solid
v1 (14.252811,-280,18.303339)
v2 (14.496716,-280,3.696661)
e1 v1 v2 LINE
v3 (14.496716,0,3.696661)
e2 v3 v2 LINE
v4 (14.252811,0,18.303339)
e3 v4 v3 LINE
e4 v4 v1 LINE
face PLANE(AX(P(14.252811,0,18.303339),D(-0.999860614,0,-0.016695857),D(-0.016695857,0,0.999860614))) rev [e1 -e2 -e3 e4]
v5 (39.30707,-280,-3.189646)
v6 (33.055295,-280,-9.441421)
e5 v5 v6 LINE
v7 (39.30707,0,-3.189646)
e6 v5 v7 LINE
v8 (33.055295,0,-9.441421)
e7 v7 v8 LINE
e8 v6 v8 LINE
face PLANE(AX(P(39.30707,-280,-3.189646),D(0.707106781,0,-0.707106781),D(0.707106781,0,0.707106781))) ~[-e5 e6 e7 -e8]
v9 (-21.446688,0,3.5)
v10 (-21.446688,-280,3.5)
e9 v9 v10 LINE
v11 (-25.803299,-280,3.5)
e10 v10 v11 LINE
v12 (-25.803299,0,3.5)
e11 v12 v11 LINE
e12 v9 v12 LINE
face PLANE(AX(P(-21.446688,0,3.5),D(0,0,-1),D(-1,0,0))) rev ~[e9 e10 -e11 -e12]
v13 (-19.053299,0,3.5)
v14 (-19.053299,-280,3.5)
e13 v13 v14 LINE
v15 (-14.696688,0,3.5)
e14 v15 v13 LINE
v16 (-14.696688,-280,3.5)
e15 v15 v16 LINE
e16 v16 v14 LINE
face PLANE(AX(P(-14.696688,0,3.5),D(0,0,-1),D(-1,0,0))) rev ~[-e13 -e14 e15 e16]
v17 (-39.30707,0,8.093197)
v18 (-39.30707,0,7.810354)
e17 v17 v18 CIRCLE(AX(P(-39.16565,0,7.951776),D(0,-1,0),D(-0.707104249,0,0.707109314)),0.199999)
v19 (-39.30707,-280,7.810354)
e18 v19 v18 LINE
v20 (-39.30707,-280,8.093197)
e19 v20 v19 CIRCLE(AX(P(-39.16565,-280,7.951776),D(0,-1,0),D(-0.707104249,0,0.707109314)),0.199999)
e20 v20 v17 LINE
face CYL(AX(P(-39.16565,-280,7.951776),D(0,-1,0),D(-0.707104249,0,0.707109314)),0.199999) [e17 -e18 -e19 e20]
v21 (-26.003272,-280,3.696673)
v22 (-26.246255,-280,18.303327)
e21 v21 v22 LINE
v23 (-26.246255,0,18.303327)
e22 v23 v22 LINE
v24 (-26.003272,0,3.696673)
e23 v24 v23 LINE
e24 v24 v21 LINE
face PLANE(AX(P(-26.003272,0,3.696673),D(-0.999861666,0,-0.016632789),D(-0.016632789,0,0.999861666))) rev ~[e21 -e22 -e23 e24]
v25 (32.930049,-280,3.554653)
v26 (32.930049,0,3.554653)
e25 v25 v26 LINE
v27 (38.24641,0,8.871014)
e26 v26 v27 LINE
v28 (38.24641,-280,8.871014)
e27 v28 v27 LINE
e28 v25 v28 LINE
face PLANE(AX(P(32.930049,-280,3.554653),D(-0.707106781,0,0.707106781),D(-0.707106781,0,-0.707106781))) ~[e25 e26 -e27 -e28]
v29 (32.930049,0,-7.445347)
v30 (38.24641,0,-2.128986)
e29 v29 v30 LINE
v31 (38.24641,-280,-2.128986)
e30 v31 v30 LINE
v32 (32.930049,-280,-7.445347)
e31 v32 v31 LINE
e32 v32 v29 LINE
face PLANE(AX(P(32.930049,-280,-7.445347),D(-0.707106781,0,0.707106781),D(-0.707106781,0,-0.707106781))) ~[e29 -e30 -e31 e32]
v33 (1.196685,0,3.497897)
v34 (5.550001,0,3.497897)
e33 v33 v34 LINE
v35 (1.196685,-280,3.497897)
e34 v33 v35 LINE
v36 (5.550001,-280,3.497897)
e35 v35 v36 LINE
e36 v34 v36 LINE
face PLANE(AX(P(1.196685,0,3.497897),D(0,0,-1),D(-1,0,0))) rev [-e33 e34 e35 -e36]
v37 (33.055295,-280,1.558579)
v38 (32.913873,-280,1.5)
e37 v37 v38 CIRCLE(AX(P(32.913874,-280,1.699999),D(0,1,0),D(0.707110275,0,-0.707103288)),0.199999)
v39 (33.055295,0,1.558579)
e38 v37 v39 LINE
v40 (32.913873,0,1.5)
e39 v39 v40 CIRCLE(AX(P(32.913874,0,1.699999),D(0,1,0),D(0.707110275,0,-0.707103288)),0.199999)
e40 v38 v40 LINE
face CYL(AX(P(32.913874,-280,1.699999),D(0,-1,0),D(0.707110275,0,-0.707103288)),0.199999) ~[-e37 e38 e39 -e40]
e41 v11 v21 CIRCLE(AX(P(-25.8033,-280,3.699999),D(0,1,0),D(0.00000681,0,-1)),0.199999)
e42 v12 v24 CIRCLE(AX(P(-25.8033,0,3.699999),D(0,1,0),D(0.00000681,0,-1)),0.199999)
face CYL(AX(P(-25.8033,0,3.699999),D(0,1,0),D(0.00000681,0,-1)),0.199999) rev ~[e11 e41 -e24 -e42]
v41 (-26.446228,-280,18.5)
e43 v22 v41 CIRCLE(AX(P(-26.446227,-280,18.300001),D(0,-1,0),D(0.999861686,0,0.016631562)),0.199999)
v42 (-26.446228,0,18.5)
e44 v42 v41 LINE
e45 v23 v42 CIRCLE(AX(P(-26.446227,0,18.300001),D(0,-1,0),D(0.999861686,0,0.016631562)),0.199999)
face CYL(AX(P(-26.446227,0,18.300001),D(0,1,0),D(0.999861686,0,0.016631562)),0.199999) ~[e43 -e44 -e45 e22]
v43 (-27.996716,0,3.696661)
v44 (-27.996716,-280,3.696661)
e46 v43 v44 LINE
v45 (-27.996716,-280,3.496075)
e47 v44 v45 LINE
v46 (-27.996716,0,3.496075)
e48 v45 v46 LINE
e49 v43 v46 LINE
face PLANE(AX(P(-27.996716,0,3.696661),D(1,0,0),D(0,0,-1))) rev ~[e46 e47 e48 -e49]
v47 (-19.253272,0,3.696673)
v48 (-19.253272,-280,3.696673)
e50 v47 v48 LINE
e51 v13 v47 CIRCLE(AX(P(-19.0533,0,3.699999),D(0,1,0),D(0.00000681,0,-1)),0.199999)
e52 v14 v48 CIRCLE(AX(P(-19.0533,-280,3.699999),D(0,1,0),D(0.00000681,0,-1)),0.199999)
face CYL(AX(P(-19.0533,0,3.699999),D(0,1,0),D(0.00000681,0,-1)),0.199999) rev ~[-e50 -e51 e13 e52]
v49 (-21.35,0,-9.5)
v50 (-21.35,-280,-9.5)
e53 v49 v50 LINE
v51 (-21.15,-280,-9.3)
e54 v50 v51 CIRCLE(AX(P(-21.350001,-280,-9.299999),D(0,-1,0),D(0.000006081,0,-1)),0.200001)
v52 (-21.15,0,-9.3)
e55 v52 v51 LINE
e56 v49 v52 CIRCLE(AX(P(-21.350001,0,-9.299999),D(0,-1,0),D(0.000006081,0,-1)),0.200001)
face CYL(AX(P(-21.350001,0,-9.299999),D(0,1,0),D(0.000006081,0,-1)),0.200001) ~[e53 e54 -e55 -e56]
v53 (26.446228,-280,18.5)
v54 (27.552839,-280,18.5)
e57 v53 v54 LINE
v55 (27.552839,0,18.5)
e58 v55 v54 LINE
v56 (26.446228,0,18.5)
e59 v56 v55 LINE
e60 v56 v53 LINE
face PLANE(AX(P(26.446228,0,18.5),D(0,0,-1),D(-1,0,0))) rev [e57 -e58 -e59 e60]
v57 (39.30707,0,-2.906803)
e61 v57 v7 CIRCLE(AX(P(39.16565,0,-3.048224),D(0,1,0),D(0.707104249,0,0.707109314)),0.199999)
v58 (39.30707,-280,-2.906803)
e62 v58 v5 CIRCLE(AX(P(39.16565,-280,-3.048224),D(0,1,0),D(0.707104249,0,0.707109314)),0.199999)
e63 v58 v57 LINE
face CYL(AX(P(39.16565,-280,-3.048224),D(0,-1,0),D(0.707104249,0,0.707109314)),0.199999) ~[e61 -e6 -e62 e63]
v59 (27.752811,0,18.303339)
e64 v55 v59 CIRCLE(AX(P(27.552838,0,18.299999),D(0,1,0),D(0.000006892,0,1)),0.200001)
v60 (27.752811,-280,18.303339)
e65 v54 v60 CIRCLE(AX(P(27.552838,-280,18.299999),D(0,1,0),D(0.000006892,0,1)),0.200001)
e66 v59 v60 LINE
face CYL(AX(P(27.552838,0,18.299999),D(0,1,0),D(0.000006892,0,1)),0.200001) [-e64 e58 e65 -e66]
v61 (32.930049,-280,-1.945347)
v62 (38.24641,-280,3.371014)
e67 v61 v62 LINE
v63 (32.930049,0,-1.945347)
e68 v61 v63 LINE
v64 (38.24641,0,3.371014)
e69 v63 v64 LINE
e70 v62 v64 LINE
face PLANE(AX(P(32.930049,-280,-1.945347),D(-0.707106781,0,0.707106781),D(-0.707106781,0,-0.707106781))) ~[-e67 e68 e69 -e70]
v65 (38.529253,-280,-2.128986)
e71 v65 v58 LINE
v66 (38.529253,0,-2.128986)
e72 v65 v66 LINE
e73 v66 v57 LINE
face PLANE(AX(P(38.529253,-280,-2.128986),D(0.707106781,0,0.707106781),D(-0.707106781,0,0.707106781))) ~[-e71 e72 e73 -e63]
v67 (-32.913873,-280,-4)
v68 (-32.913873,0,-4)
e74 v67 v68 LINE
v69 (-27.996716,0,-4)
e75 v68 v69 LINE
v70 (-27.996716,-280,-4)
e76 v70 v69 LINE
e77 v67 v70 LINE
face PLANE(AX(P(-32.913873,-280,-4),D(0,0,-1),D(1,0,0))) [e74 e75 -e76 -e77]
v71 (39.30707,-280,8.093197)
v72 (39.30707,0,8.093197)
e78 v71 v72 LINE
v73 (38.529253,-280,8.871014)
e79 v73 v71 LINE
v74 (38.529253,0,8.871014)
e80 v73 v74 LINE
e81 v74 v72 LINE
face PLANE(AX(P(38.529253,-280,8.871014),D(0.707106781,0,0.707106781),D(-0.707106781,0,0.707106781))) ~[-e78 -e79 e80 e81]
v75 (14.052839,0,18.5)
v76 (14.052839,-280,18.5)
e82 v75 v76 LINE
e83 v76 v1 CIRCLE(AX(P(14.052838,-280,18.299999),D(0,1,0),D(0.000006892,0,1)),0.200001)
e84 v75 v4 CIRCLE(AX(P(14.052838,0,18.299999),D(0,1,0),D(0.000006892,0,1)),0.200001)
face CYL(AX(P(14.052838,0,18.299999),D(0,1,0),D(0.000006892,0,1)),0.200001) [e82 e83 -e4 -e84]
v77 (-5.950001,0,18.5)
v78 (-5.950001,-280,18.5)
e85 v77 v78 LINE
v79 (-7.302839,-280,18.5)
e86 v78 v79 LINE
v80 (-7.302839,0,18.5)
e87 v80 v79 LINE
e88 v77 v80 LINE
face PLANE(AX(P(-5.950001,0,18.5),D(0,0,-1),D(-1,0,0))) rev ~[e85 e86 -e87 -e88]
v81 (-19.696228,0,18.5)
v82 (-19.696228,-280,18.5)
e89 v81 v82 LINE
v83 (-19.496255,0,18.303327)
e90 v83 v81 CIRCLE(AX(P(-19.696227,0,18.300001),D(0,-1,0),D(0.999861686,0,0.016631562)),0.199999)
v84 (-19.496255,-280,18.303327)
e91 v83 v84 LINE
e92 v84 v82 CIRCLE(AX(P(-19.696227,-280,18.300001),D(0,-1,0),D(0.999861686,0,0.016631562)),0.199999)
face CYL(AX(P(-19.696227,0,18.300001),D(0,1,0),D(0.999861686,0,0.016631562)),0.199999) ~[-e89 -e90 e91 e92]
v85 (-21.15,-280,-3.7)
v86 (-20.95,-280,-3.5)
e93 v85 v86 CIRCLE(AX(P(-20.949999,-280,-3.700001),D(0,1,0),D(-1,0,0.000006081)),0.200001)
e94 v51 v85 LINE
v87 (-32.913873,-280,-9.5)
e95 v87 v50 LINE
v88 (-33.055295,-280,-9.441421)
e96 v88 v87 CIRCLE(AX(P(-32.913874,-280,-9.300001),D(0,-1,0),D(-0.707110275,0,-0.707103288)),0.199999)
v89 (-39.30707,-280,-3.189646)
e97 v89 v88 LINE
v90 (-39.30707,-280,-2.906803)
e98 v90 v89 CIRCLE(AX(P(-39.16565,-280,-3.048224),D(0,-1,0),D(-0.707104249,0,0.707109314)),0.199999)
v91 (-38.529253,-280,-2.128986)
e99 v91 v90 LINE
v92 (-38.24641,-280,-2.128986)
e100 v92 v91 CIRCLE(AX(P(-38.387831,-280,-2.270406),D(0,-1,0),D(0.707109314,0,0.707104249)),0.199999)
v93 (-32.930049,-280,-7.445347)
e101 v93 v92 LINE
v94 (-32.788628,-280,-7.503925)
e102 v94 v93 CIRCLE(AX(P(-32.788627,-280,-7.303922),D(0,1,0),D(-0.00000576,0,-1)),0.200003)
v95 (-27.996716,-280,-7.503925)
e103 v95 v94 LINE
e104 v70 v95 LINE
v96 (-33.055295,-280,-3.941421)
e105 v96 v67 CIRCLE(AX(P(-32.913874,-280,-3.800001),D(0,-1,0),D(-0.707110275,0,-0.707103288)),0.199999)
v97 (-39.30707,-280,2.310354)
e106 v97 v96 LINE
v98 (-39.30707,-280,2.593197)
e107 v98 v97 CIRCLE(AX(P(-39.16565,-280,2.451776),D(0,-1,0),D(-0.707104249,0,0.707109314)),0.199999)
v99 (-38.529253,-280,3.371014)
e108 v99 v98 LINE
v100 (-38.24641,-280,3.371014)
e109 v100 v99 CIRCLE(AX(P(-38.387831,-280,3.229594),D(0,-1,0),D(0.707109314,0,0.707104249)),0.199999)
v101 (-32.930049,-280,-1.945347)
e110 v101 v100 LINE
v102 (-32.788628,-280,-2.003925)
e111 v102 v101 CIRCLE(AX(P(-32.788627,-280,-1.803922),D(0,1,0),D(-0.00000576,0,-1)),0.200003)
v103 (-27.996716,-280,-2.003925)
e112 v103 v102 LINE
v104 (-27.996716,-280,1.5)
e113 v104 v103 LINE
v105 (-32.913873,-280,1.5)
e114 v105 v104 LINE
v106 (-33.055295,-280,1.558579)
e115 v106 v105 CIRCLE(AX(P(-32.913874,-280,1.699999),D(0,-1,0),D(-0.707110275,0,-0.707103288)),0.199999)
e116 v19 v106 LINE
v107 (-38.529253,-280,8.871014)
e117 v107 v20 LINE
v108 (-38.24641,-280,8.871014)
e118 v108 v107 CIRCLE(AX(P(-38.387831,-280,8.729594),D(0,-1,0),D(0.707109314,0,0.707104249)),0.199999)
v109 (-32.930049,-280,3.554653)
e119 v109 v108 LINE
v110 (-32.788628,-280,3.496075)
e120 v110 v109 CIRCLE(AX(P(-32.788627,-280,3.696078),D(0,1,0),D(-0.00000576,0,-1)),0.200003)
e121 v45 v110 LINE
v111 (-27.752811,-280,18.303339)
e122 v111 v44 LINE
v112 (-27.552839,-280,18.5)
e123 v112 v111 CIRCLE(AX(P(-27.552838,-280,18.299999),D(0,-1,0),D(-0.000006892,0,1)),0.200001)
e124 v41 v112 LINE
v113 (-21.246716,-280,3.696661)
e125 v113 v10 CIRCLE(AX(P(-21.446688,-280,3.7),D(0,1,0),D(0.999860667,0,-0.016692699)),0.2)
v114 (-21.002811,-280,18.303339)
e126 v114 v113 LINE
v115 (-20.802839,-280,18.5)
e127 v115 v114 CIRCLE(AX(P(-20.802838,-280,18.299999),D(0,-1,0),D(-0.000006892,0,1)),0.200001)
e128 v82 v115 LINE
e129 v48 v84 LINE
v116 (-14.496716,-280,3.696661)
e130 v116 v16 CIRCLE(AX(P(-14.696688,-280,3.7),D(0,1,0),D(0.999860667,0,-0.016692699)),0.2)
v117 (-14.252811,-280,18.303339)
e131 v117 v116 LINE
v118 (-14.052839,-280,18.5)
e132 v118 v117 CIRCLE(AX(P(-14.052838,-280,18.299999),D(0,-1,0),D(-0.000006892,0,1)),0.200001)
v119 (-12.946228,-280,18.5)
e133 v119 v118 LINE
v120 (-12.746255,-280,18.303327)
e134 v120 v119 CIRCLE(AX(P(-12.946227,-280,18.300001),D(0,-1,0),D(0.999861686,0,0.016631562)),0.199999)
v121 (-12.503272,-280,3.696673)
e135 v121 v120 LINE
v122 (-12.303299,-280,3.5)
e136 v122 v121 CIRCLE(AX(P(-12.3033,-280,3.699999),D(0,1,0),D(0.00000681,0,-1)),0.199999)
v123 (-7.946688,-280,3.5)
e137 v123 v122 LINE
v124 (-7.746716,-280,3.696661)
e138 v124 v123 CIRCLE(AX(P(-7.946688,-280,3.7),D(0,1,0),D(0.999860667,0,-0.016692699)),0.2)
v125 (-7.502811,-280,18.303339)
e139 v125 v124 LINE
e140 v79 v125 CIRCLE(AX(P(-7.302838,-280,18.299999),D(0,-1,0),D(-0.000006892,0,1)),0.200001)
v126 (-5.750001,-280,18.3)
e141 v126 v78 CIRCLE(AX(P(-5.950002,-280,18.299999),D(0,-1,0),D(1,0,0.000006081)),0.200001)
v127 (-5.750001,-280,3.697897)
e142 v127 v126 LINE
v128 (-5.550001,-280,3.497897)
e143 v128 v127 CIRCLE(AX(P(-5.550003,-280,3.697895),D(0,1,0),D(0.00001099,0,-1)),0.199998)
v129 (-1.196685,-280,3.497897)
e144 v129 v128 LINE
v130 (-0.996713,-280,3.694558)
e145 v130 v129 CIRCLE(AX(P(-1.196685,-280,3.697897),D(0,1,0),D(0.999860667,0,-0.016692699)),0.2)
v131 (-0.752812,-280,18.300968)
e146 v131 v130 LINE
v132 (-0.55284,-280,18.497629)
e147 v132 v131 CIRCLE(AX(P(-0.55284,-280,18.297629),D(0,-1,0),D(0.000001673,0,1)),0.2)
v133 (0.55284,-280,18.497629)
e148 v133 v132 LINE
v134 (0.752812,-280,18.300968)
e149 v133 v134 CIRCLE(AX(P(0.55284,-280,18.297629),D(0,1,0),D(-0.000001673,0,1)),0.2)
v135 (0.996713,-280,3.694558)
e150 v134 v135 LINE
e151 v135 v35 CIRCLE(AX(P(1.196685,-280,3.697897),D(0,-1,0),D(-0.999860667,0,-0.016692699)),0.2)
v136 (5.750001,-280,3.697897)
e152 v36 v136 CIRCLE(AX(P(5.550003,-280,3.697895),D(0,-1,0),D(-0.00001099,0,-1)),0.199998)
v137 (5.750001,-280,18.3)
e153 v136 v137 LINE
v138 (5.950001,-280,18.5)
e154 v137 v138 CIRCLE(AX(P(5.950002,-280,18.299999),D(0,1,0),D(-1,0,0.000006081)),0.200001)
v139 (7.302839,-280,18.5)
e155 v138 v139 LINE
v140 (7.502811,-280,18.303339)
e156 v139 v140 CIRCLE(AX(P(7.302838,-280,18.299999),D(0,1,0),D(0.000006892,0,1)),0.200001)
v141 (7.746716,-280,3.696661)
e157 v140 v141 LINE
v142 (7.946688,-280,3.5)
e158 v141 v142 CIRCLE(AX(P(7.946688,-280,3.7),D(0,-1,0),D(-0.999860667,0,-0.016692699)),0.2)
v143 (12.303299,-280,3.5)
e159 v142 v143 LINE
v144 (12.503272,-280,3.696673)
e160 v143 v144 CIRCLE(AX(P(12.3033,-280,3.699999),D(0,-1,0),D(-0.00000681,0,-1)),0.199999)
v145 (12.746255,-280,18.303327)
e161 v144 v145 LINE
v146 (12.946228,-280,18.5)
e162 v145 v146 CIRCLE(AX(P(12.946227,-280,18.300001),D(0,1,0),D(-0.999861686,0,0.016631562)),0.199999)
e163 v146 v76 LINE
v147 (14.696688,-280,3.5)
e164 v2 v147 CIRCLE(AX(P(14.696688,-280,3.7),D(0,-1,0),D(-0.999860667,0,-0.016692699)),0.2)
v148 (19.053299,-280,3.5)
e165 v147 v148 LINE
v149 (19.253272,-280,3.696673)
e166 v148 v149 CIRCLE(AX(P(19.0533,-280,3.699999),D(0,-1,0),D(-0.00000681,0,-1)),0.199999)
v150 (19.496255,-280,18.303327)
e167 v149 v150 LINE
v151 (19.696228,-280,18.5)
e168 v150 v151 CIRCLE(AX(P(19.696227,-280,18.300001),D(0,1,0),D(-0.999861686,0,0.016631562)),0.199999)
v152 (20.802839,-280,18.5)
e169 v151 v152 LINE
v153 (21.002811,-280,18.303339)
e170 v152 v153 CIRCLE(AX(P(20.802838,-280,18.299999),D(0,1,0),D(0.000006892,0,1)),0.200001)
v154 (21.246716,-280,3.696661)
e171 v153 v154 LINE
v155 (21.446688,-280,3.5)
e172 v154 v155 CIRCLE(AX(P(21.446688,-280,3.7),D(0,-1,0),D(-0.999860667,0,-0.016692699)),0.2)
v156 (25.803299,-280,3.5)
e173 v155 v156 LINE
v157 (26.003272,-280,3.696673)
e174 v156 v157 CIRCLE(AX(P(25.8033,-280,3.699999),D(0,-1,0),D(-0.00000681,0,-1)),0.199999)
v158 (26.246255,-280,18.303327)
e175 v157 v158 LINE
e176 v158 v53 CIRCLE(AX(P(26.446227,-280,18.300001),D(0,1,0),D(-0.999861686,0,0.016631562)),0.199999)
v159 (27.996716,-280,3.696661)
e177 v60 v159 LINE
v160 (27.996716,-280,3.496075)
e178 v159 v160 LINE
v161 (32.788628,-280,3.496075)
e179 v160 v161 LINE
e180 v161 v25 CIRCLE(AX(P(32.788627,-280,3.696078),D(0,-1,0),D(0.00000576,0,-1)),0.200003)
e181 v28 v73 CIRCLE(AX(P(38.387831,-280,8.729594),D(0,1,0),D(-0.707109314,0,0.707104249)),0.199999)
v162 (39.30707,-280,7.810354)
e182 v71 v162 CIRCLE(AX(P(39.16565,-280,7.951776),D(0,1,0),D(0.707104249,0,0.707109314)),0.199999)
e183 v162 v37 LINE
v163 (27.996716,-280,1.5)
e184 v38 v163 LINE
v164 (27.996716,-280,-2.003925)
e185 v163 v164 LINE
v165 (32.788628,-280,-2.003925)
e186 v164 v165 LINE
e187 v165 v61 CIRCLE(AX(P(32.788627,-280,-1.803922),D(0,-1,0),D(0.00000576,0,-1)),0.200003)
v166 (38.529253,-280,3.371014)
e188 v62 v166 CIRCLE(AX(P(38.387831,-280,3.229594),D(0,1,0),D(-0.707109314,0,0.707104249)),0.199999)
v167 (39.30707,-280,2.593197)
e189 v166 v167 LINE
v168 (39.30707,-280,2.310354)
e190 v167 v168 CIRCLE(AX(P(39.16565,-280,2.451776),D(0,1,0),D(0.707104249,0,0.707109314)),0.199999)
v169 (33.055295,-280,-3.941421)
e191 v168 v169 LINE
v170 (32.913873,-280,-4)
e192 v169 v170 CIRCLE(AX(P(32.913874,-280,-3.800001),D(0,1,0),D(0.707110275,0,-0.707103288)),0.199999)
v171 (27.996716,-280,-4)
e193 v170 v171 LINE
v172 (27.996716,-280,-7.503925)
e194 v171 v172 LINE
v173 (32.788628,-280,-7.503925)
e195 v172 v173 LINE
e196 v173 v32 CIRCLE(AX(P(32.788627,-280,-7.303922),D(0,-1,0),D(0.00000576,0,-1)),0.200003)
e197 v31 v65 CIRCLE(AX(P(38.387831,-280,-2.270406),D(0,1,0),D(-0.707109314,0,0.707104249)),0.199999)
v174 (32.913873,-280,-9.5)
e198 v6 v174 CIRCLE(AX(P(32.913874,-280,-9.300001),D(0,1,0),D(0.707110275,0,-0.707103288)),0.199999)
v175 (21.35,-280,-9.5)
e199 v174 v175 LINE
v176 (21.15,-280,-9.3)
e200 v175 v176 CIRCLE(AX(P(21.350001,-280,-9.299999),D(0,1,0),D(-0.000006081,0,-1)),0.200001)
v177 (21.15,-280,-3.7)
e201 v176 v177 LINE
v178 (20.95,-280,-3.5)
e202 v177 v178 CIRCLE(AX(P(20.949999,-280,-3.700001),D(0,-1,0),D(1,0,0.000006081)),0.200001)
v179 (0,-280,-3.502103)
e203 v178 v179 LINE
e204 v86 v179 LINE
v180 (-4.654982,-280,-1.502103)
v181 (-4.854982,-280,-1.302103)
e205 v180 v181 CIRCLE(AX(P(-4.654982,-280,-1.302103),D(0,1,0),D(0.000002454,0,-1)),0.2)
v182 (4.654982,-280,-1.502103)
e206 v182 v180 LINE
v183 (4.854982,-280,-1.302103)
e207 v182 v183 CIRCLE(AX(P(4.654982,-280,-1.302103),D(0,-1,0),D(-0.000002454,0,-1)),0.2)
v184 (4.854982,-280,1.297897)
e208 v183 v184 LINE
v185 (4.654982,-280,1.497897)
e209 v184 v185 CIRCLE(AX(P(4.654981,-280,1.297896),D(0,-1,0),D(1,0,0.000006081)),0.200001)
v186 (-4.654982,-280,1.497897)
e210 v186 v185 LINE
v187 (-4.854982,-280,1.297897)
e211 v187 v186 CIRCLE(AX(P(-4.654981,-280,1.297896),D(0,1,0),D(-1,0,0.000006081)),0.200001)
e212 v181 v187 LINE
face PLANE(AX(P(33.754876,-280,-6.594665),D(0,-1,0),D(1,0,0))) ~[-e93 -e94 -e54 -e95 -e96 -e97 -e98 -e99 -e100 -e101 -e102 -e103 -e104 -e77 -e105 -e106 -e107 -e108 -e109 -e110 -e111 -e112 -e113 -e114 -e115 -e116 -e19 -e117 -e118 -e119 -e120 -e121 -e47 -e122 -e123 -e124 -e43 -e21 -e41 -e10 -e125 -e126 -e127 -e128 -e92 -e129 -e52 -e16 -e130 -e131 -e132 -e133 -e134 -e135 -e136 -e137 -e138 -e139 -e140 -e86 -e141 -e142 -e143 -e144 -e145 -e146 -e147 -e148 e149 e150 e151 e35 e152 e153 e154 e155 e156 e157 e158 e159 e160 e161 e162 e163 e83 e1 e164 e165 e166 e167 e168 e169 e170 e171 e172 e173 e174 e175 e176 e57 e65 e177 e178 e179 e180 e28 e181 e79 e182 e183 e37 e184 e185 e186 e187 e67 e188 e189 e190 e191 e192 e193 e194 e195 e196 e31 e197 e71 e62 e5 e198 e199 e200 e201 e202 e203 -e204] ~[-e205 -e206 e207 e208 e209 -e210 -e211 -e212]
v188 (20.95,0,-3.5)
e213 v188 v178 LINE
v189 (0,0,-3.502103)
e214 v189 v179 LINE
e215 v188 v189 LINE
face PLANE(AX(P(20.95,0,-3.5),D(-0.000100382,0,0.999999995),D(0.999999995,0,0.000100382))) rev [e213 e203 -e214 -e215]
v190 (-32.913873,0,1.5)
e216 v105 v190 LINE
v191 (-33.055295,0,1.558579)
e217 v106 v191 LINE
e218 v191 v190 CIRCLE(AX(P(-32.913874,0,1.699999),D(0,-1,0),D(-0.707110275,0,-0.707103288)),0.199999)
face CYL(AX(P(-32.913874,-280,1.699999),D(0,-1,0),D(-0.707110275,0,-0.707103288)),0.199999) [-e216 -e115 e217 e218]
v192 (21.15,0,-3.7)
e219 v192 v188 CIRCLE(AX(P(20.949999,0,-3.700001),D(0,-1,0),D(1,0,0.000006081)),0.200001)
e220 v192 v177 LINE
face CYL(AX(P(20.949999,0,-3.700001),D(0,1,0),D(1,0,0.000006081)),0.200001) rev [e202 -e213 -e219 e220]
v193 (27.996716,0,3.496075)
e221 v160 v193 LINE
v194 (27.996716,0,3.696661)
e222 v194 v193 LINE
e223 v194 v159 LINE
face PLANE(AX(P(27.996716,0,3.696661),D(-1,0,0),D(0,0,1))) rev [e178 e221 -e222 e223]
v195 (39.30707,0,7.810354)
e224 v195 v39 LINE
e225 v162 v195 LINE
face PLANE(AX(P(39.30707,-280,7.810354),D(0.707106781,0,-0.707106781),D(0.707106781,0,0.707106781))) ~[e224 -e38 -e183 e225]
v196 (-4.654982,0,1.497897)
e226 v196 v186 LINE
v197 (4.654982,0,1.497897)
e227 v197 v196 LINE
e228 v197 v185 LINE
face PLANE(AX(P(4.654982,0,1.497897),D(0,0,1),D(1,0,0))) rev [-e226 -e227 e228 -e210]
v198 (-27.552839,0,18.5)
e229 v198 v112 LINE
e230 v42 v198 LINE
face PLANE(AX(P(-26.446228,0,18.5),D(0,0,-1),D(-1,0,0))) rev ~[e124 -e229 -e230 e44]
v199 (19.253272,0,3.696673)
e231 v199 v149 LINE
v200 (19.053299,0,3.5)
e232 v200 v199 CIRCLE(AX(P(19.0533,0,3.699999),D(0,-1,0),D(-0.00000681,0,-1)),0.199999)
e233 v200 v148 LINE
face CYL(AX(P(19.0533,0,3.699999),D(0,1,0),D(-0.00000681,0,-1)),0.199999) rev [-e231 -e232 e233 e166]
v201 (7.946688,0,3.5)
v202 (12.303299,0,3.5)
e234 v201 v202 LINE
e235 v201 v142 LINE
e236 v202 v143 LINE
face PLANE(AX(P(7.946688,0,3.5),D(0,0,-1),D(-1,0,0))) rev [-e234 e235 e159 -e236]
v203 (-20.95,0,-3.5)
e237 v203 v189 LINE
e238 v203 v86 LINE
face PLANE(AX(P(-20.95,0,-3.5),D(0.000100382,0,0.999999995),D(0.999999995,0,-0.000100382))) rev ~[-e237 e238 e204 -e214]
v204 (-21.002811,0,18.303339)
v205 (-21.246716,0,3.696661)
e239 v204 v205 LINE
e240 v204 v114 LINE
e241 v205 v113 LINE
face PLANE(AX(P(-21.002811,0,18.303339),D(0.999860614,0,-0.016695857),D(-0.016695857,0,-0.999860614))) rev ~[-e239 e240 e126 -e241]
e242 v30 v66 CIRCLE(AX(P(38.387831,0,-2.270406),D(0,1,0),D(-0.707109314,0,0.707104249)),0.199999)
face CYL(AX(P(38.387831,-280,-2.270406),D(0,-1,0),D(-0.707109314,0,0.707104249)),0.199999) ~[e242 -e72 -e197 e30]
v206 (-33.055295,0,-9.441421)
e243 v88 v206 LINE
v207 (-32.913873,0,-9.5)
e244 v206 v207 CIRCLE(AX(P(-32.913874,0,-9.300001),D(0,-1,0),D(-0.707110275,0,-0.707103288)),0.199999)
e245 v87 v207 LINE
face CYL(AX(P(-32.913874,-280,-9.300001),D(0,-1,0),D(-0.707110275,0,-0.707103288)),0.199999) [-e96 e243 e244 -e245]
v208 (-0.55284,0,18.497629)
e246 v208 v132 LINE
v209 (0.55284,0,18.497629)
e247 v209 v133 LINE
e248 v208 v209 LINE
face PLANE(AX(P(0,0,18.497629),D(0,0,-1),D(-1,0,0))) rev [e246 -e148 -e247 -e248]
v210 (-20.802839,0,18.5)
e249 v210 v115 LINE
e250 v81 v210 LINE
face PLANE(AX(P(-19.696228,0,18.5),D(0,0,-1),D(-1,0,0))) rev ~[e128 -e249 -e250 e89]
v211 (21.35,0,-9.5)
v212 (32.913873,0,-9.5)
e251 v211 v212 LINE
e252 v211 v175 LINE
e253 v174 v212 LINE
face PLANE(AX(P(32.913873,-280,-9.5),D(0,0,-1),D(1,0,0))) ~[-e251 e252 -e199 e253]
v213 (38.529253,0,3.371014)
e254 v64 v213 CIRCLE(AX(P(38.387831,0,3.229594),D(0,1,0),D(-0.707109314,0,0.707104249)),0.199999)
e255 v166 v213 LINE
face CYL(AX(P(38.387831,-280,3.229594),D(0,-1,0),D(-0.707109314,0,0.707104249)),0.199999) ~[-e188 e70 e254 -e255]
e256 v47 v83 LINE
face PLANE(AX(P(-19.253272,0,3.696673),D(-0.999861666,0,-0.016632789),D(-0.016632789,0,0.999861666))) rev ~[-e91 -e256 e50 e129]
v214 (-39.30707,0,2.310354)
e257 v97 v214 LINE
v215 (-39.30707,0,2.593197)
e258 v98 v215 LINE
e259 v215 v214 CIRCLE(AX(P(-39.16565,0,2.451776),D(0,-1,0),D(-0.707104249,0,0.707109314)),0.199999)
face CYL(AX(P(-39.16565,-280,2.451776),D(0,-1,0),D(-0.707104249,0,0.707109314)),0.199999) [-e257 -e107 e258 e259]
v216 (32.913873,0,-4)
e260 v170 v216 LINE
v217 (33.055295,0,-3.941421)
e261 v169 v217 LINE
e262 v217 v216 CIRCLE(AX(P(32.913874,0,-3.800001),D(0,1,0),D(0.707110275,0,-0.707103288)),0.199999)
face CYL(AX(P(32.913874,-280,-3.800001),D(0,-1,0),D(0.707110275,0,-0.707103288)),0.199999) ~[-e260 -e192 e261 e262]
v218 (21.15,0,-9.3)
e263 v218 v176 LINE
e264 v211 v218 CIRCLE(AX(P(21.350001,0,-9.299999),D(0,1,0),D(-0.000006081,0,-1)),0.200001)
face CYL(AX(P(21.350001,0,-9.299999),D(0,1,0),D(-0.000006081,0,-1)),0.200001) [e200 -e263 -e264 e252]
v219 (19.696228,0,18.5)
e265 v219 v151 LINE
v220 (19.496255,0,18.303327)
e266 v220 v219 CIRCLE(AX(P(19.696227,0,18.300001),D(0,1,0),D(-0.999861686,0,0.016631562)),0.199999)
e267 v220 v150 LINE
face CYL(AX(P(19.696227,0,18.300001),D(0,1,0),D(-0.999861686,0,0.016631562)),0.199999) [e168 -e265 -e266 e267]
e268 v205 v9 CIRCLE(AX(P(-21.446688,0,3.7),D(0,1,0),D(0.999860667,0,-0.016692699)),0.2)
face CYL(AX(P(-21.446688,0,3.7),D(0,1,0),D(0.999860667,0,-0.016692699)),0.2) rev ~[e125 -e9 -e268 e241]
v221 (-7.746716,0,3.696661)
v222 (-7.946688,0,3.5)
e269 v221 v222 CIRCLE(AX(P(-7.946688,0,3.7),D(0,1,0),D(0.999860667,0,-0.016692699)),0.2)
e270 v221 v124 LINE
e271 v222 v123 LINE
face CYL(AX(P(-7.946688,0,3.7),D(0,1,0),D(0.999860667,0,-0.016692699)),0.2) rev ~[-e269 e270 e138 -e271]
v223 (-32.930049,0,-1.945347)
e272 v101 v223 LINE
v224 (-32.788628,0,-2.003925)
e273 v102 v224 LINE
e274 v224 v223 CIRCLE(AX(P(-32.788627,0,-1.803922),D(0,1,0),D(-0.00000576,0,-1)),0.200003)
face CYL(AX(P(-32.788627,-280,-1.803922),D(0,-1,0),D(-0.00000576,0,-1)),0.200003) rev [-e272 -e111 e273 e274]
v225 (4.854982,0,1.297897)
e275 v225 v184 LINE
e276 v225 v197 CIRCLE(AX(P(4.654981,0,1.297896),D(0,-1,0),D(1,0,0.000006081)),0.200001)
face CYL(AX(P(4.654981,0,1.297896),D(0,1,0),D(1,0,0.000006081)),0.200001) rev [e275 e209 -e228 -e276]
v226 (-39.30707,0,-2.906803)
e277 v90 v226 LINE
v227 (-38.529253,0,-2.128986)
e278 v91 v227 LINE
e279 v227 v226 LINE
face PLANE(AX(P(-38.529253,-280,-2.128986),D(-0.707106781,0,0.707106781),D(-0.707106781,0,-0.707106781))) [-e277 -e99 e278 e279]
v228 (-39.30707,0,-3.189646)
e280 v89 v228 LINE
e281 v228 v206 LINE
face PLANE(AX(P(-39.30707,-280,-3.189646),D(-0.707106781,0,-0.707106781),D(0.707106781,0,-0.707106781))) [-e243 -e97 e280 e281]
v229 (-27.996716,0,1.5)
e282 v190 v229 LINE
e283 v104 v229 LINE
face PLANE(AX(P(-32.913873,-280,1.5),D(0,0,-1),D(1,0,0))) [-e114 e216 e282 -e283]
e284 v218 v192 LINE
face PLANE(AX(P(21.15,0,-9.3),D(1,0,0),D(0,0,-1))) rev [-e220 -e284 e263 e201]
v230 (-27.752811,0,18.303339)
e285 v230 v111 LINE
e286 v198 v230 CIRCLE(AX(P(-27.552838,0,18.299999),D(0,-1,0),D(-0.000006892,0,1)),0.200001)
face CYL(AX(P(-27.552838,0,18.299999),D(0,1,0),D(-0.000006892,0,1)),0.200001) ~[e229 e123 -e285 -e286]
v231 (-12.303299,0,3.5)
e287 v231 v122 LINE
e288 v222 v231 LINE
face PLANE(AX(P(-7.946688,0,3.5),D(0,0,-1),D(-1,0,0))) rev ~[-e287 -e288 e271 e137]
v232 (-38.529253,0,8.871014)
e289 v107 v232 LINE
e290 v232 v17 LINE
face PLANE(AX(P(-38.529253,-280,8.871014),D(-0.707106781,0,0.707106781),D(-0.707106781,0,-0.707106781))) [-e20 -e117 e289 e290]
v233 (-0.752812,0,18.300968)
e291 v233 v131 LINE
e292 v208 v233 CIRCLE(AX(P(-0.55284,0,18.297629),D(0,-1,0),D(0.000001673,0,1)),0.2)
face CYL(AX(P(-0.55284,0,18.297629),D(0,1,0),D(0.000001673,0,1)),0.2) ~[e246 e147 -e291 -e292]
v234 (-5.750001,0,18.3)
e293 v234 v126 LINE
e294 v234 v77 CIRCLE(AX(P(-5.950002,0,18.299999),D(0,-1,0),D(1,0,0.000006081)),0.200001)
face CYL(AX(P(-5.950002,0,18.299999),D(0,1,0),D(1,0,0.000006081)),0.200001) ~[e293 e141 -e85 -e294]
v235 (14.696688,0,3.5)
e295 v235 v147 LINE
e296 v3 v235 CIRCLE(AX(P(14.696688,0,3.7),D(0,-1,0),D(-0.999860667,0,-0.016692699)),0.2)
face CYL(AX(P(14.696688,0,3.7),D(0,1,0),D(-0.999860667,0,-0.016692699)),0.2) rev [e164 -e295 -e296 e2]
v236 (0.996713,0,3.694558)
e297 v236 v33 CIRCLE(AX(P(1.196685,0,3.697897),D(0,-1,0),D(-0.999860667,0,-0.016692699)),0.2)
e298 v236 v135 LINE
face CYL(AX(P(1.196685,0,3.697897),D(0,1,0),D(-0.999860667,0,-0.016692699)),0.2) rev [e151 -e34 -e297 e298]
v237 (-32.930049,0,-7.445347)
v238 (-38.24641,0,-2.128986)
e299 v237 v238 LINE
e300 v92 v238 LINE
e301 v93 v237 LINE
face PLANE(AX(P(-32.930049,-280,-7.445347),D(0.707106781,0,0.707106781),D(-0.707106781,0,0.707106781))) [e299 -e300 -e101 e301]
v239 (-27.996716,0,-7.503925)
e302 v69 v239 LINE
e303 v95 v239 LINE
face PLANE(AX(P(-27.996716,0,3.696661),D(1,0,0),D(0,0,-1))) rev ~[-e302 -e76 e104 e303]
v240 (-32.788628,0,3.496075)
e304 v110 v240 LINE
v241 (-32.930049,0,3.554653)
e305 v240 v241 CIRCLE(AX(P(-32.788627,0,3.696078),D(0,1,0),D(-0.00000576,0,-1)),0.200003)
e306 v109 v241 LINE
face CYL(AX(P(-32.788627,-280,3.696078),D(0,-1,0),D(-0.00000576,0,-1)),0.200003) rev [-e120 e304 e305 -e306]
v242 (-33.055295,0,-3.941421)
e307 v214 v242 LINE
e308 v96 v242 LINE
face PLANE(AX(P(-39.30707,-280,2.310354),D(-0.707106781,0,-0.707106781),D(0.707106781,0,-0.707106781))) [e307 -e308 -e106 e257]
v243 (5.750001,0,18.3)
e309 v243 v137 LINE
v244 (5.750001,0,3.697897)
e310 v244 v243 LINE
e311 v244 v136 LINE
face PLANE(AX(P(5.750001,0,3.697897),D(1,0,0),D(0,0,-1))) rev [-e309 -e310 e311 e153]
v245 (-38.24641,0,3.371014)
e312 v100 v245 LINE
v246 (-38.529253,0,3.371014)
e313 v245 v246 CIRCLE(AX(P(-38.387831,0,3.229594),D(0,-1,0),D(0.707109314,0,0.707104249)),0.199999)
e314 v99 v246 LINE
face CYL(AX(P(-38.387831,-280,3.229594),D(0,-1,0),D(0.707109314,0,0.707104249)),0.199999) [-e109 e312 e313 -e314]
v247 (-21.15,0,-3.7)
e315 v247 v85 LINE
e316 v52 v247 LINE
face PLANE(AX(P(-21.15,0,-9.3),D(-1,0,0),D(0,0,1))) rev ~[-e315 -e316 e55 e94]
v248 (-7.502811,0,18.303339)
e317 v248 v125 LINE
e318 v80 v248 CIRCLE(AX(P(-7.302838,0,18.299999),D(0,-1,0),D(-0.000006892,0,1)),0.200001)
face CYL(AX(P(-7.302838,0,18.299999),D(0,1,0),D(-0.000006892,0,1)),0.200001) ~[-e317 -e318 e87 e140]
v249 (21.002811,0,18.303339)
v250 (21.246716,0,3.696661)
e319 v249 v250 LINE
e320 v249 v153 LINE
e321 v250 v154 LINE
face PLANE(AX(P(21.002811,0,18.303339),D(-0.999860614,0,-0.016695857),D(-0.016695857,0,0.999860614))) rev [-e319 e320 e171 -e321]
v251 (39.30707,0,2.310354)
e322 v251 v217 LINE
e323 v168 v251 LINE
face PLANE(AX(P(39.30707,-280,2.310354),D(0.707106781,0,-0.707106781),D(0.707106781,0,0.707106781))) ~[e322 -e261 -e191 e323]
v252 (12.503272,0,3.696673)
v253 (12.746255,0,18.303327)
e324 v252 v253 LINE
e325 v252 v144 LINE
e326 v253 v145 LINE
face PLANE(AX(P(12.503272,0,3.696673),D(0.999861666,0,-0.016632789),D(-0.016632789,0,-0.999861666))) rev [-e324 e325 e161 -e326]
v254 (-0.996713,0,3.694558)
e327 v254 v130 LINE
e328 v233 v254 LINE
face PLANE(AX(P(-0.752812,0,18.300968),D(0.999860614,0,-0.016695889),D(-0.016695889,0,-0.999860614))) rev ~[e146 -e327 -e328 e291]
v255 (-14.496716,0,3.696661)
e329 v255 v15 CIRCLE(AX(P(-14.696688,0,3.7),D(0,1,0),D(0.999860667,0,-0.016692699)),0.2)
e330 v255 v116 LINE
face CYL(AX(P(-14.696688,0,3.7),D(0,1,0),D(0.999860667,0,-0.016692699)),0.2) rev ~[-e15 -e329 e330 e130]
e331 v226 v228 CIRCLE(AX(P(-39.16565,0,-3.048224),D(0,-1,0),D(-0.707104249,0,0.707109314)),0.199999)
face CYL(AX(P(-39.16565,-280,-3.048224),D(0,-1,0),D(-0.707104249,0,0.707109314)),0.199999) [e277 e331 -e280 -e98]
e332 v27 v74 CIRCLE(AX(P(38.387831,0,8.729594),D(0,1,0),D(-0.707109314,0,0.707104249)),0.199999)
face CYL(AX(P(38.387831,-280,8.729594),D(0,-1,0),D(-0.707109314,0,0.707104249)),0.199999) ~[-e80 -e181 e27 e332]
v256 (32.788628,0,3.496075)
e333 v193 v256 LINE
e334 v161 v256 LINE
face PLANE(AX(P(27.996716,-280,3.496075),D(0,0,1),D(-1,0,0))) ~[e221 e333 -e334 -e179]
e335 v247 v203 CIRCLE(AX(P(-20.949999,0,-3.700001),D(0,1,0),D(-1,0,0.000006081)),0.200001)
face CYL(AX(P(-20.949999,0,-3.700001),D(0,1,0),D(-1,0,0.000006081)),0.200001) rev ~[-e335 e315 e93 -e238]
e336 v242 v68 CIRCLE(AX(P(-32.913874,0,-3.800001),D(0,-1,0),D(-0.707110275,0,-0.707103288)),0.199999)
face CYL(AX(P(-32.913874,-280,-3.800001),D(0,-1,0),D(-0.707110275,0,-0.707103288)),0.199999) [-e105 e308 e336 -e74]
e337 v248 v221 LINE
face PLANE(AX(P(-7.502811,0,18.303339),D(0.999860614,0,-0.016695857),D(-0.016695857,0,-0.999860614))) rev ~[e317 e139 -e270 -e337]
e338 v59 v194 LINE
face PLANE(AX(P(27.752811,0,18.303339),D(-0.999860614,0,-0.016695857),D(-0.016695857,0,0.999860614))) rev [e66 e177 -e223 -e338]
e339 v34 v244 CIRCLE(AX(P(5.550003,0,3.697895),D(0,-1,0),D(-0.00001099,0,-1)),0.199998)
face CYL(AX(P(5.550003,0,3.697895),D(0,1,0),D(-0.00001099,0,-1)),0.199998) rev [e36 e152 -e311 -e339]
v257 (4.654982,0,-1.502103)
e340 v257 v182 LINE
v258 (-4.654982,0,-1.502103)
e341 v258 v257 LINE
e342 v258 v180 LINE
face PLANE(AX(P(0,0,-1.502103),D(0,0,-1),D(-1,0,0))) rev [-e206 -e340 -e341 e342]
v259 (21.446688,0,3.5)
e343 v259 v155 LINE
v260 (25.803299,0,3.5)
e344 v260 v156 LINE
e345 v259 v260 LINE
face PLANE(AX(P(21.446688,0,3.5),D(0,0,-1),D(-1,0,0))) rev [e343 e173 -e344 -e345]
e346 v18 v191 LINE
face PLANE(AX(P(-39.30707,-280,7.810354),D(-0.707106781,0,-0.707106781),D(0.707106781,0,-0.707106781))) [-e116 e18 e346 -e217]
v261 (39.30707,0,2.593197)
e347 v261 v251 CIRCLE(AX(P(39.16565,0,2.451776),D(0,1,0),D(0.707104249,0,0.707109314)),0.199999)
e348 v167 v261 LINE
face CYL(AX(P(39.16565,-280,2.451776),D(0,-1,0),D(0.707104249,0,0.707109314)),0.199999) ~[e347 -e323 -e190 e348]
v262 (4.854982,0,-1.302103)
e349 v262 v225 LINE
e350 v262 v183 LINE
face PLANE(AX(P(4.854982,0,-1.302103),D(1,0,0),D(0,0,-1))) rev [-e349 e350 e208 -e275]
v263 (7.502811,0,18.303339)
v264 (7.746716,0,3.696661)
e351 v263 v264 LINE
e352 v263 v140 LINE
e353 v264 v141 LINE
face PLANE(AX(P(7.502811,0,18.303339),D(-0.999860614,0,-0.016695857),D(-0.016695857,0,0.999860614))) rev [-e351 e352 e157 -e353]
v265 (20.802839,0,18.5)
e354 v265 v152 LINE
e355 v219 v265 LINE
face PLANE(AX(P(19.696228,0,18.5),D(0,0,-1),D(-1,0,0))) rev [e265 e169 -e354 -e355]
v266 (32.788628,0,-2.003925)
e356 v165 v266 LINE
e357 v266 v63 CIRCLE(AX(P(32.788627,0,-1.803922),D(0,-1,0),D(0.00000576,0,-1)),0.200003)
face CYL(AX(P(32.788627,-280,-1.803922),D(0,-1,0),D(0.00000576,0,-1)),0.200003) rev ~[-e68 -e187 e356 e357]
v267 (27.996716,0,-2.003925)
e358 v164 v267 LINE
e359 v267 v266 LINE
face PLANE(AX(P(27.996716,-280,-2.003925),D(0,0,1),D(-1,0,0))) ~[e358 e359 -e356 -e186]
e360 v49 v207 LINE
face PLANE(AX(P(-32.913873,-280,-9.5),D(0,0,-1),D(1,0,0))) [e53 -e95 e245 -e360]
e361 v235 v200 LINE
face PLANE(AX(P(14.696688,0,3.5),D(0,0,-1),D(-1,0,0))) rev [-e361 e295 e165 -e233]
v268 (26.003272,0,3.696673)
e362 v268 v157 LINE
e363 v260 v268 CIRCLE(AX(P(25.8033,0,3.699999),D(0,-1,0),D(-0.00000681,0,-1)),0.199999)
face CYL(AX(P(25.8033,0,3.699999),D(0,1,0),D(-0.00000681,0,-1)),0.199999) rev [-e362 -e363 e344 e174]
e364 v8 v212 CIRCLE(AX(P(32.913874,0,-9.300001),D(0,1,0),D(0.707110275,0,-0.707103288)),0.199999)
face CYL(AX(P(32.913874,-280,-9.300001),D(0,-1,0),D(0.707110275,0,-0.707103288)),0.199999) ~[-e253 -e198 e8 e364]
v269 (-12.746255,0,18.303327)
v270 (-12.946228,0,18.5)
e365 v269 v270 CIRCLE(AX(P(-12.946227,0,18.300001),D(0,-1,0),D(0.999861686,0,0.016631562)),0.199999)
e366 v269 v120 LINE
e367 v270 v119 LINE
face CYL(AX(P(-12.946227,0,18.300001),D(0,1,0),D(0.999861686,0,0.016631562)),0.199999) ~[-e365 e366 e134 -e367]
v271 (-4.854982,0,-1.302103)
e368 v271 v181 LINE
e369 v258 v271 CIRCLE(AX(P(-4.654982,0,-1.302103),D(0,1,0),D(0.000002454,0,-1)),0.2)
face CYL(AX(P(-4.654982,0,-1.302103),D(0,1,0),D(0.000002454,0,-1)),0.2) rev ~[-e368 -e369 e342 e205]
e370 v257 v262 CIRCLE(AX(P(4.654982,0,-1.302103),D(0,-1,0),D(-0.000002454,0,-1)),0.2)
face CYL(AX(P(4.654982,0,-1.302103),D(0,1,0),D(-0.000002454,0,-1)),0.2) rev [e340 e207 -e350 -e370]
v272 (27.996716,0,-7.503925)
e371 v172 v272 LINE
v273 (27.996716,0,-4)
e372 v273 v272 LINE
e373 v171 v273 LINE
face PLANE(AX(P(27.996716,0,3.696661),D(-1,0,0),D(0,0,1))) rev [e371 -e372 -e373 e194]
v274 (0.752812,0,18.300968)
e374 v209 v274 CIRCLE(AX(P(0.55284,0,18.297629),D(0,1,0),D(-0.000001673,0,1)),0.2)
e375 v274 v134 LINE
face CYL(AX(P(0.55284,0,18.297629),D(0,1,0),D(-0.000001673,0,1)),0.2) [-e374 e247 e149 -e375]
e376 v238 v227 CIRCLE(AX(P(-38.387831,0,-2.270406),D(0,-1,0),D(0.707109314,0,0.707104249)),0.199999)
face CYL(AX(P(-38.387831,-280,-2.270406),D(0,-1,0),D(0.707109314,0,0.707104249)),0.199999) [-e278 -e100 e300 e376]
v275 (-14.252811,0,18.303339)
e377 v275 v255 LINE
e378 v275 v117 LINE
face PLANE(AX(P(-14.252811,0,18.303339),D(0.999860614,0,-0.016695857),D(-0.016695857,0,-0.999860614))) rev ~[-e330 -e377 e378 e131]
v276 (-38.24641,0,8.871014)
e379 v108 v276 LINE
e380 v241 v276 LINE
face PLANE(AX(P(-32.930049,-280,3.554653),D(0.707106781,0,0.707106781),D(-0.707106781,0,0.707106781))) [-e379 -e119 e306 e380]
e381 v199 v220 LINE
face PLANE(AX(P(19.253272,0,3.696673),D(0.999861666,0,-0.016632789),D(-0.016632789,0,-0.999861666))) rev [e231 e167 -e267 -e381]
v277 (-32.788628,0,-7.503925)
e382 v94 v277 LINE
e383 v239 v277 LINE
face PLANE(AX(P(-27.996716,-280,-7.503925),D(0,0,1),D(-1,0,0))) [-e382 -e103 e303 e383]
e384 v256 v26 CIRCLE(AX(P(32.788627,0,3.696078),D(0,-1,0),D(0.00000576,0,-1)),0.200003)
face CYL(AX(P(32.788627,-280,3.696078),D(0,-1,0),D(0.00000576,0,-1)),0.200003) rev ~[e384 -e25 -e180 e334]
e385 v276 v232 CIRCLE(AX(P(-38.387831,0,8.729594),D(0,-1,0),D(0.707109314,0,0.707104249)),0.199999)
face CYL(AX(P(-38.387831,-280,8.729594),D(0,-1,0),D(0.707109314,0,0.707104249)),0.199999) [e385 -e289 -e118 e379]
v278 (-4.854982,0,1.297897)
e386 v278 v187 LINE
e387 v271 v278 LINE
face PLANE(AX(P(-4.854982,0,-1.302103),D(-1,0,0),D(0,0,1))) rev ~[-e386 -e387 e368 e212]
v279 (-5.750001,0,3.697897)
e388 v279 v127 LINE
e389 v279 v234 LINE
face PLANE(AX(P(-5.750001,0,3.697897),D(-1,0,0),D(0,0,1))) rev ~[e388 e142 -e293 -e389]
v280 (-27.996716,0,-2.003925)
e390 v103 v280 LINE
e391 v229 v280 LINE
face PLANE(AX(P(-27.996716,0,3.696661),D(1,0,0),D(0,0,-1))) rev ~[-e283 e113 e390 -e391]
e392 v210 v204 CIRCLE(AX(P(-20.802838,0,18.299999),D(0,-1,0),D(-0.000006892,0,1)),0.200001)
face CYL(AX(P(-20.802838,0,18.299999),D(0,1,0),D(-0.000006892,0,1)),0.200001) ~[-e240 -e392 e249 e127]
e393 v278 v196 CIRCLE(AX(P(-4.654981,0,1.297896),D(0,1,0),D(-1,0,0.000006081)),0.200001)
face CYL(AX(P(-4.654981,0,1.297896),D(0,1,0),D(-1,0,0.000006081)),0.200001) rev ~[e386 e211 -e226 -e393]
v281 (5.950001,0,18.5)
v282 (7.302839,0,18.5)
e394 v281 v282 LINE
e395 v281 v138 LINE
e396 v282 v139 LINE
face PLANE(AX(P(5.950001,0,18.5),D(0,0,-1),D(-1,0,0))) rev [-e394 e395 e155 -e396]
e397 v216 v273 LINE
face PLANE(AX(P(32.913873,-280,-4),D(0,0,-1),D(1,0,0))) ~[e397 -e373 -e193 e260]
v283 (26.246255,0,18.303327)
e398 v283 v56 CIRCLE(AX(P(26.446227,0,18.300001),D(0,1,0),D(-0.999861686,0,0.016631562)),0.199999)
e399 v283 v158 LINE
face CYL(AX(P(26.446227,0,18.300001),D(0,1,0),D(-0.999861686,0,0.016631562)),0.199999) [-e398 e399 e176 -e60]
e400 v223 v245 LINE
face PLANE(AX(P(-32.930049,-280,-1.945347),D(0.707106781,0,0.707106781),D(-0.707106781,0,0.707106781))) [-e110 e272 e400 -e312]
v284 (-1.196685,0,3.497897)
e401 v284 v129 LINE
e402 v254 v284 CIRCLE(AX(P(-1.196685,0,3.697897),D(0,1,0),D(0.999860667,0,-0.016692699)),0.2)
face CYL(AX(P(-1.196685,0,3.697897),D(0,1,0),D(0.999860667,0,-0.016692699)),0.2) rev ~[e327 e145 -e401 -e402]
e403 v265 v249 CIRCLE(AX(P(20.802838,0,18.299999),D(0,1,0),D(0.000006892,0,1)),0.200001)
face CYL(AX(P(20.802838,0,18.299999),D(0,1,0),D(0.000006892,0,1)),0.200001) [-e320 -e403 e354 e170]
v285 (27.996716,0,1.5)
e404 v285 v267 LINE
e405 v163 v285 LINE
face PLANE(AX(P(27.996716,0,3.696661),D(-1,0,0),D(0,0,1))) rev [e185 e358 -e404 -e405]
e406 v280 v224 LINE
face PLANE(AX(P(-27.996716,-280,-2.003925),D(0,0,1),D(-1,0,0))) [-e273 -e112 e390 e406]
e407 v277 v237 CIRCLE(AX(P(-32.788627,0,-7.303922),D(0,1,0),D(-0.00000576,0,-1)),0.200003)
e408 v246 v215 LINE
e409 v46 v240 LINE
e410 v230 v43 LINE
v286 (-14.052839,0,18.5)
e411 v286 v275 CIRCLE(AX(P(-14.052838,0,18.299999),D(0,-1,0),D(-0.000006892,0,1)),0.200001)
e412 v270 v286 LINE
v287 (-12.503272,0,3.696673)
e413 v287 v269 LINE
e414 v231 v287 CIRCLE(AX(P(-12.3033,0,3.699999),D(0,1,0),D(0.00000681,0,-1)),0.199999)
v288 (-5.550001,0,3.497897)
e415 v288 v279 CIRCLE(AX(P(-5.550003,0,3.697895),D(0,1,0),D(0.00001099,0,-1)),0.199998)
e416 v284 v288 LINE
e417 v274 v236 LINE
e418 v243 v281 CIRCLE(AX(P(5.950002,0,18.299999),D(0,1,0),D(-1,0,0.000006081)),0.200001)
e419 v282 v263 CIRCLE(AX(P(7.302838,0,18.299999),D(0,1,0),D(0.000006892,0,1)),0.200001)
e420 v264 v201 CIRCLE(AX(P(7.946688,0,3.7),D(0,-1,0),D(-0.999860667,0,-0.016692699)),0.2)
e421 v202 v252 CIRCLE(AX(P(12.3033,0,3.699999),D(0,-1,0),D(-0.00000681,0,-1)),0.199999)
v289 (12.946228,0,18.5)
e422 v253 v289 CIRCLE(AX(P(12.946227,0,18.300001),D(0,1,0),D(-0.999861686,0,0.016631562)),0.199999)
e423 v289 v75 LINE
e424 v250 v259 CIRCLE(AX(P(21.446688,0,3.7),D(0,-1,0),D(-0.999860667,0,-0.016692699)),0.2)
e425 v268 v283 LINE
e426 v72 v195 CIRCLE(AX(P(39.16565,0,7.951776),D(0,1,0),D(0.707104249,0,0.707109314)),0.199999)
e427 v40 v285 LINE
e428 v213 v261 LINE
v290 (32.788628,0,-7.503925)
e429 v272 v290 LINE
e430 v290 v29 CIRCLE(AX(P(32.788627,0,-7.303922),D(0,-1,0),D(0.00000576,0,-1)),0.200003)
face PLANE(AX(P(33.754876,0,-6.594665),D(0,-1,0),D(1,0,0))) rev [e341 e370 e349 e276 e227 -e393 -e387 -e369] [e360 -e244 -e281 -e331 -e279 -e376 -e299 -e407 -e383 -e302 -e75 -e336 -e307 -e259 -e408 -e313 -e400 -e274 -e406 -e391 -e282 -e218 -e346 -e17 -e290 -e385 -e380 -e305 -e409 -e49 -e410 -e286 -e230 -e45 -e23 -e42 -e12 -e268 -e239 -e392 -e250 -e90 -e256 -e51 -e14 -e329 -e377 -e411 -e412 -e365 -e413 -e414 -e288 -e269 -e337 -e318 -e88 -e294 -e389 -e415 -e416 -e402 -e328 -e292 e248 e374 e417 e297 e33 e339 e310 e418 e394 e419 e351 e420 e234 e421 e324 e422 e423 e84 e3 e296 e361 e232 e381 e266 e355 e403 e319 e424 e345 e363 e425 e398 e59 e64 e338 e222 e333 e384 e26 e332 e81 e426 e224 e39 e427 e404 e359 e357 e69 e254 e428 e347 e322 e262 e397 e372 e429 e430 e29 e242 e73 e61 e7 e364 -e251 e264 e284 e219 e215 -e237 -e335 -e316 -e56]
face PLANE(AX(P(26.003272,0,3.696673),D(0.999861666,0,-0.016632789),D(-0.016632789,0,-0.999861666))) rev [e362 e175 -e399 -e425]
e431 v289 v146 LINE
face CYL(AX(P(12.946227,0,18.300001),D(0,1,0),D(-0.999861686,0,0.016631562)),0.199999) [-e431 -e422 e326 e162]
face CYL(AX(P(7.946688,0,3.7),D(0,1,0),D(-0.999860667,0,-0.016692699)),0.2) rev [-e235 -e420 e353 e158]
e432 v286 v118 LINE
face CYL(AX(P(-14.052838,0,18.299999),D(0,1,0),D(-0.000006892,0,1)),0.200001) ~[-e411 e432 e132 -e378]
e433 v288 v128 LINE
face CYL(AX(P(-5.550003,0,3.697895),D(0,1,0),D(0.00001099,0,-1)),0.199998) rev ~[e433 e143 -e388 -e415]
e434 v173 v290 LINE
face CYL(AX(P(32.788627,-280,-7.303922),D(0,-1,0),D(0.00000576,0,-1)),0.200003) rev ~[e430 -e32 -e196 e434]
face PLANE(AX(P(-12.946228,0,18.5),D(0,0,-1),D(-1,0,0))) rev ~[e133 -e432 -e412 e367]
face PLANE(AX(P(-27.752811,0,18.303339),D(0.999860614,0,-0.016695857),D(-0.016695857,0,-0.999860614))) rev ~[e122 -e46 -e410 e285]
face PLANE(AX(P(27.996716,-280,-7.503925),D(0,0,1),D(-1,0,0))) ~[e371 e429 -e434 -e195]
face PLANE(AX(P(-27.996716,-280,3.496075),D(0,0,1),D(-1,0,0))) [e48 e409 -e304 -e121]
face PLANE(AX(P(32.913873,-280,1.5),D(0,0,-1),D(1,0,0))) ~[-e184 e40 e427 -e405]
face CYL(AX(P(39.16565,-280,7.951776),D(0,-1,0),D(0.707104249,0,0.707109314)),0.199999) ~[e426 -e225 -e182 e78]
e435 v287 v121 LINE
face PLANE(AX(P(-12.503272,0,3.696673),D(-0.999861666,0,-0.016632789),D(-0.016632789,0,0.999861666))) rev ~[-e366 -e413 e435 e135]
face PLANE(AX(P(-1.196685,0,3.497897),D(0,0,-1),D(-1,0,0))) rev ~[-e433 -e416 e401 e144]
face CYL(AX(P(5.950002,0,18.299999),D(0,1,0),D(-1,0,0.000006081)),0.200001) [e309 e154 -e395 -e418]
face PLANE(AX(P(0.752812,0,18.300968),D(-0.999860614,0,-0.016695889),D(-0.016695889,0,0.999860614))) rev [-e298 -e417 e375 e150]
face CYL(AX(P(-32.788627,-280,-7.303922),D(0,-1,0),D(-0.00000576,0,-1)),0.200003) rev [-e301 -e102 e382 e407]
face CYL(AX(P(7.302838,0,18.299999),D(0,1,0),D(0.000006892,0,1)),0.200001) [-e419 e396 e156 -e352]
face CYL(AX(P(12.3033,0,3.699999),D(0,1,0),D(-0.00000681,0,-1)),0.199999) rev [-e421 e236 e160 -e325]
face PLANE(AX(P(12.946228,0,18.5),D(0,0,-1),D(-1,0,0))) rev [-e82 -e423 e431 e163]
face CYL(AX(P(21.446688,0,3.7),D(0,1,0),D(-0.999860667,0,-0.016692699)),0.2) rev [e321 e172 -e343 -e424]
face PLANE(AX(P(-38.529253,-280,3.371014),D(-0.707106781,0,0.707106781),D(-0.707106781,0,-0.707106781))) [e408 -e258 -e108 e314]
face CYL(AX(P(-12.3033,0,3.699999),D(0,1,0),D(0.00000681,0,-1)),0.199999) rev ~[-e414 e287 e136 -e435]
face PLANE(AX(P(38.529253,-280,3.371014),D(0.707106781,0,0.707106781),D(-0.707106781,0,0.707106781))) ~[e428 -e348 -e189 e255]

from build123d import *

# Parameters (mm, degrees)
F1_DEPTH = 280
F3_DEPTH = 280


with BuildPart() as f1:
    # F0 (on Front) → F1 (new body)
    with BuildSketch(Plane.XZ):
        with BuildLine():
            Line((-26.003272, 3.696673), (-26.246255, 18.303327))
            ThreePointArc((-26.246255, 18.303327), (-26.305987, 18.442593), (-26.446228, 18.5))
            Line((-26.446228, 18.5), (-27.552839, 18.5))
            ThreePointArc((-27.552839, 18.5), (-27.693074, 18.442597), (-27.752811, 18.303339))
            Line((-27.752811, 18.303339), (-27.996716, 3.696661))
            Line((-27.996716, 3.696661), (-27.996716, -9.5))
            Line((-27.996716, -9.5), (-21.35, -9.5))
            ThreePointArc((-21.35, -9.5), (-21.208579, -9.441421), (-21.15, -9.3))
            Line((-21.15, -9.3), (-21.15, -3.7))
            ThreePointArc((-21.15, -3.7), (-21.091421, -3.558579), (-20.95, -3.5))
            Line((-20.95, -3.5), (0, -3.502103))
            Line((0, -3.502103), (0, -1.502103))
            Line((0, -1.502103), (-4.654982, -1.502103))
            ThreePointArc((-4.654982, -1.502103), (-4.796403, -1.443525), (-4.854982, -1.302103))
            Line((-4.854982, -1.302103), (-4.854982, 1.297897))
            ThreePointArc((-4.854982, 1.297897), (-4.796403, 1.439318), (-4.654982, 1.497897))
            Line((-4.654982, 1.497897), (0, 1.497897))
            Line((0, 1.497897), (0, 18.497629))
            Line((0, 18.497629), (-0.55284, 18.497629))
            ThreePointArc((-0.55284, 18.497629), (-0.693076, 18.440226), (-0.752812, 18.300968))
            Line((-0.752812, 18.300968), (-0.996713, 3.694558))
            ThreePointArc((-0.996713, 3.694558), (-1.056449, 3.5553), (-1.196685, 3.497897))
            Line((-1.196685, 3.497897), (-5.550001, 3.497897))
            ThreePointArc((-5.550001, 3.497897), (-5.691423, 3.556475), (-5.750001, 3.697897))
            Line((-5.750001, 3.697897), (-5.750001, 18.3))
            ThreePointArc((-5.750001, 18.3), (-5.80858, 18.441421), (-5.950001, 18.5))
            Line((-5.950001, 18.5), (-7.302839, 18.5))
            ThreePointArc((-7.302839, 18.5), (-7.443074, 18.442597), (-7.502811, 18.303339))
            Line((-7.502811, 18.303339), (-7.746716, 3.696661))
            ThreePointArc((-7.746716, 3.696661), (-7.806452, 3.557403), (-7.946688, 3.5))
            Line((-7.946688, 3.5), (-12.303299, 3.5))
            ThreePointArc((-12.303299, 3.5), (-12.44354, 3.557407), (-12.503272, 3.696673))
            Line((-12.503272, 3.696673), (-12.746255, 18.303327))
            ThreePointArc((-12.746255, 18.303327), (-12.805987, 18.442593), (-12.946228, 18.5))
            Line((-12.946228, 18.5), (-14.052839, 18.5))
            ThreePointArc((-14.052839, 18.5), (-14.193074, 18.442597), (-14.252811, 18.303339))
            Line((-14.252811, 18.303339), (-14.496716, 3.696661))
            ThreePointArc((-14.496716, 3.696661), (-14.556452, 3.557403), (-14.696688, 3.5))
            Line((-14.696688, 3.5), (-19.053299, 3.5))
            ThreePointArc((-19.053299, 3.5), (-19.19354, 3.557407), (-19.253272, 3.696673))
            Line((-19.253272, 3.696673), (-19.496255, 18.303327))
            ThreePointArc((-19.496255, 18.303327), (-19.555987, 18.442593), (-19.696228, 18.5))
            Line((-19.696228, 18.5), (-20.802839, 18.5))
            ThreePointArc((-20.802839, 18.5), (-20.943074, 18.442597), (-21.002811, 18.303339))
            Line((-21.002811, 18.303339), (-21.246716, 3.696661))
            ThreePointArc((-21.246716, 3.696661), (-21.306452, 3.557403), (-21.446688, 3.5))
            Line((-21.446688, 3.5), (-25.803299, 3.5))
            ThreePointArc((-25.803299, 3.5), (-25.94354, 3.557407), (-26.003272, 3.696673))
        make_face()
    extrude(amount=F1_DEPTH)

    # F2 (on face) → F3 (join)
    with BuildSketch(Plane.XZ.offset(280)):
        with BuildLine():
            Line((-27.996716, -9.5), (-27.996716, -7.503925))
            Line((-27.996716, -7.503925), (-32.788628, -7.503925))
            ThreePointArc((-32.788628, -7.503925), (-32.865164, -7.488701), (-32.930049, -7.445347))
            Line((-32.930049, -7.445347), (-38.24641, -2.128986))
            ThreePointArc((-38.24641, -2.128986), (-38.387831, -2.070407), (-38.529253, -2.128986))
            Line((-38.529253, -2.128986), (-39.30707, -2.906803))
            ThreePointArc((-39.30707, -2.906803), (-39.365649, -3.048225), (-39.30707, -3.189646))
            Line((-39.30707, -3.189646), (-33.055295, -9.441421))
            ThreePointArc((-33.055295, -9.441421), (-32.99041, -9.484776), (-32.913873, -9.5))
            Line((-32.913873, -9.5), (-27.996716, -9.5))
        make_face()
        with BuildLine():
            ThreePointArc((-32.788628, -2.003925), (-32.865164, -1.988701), (-32.930049, -1.945347))
            Line((-32.930049, -1.945347), (-38.24641, 3.371014))
            ThreePointArc((-38.24641, 3.371014), (-38.387831, 3.429593), (-38.529253, 3.371014))
            Line((-38.529253, 3.371014), (-39.30707, 2.593197))
            ThreePointArc((-39.30707, 2.593197), (-39.365649, 2.451775), (-39.30707, 2.310354))
            Line((-39.30707, 2.310354), (-33.055295, -3.941421))
            ThreePointArc((-33.055295, -3.941421), (-32.99041, -3.984776), (-32.913873, -4))
            Line((-32.913873, -4), (-27.996716, -4))
            Line((-27.996716, -4), (-27.996716, -2.003925))
            Line((-27.996716, -2.003925), (-32.788628, -2.003925))
        make_face()
        with BuildLine():
            ThreePointArc((-32.788628, 3.496075), (-32.865164, 3.511299), (-32.930049, 3.554653))
            Line((-32.930049, 3.554653), (-38.24641, 8.871014))
            ThreePointArc((-38.24641, 8.871014), (-38.387831, 8.929593), (-38.529253, 8.871014))
            Line((-38.529253, 8.871014), (-39.30707, 8.093197))
            ThreePointArc((-39.30707, 8.093197), (-39.365649, 7.951775), (-39.30707, 7.810354))
            Line((-39.30707, 7.810354), (-33.055295, 1.558579))
            ThreePointArc((-33.055295, 1.558579), (-32.99041, 1.515224), (-32.913873, 1.5))
            Line((-32.913873, 1.5), (-27.996716, 1.5))
            Line((-27.996716, 1.5), (-27.996716, 3.496075))
            Line((-27.996716, 3.496075), (-32.788628, 3.496075))
        make_face()
    extrude(amount=-F3_DEPTH)

    # F4: F1 across face


with BuildPart() as f1_1:
    add(f1.part)
    add(f1.part.mirror(Plane(origin=(0, -140, 9.997763), x_dir=(0, 1, 0), z_dir=(1, 0, 0))))


solid = f1_1.part
